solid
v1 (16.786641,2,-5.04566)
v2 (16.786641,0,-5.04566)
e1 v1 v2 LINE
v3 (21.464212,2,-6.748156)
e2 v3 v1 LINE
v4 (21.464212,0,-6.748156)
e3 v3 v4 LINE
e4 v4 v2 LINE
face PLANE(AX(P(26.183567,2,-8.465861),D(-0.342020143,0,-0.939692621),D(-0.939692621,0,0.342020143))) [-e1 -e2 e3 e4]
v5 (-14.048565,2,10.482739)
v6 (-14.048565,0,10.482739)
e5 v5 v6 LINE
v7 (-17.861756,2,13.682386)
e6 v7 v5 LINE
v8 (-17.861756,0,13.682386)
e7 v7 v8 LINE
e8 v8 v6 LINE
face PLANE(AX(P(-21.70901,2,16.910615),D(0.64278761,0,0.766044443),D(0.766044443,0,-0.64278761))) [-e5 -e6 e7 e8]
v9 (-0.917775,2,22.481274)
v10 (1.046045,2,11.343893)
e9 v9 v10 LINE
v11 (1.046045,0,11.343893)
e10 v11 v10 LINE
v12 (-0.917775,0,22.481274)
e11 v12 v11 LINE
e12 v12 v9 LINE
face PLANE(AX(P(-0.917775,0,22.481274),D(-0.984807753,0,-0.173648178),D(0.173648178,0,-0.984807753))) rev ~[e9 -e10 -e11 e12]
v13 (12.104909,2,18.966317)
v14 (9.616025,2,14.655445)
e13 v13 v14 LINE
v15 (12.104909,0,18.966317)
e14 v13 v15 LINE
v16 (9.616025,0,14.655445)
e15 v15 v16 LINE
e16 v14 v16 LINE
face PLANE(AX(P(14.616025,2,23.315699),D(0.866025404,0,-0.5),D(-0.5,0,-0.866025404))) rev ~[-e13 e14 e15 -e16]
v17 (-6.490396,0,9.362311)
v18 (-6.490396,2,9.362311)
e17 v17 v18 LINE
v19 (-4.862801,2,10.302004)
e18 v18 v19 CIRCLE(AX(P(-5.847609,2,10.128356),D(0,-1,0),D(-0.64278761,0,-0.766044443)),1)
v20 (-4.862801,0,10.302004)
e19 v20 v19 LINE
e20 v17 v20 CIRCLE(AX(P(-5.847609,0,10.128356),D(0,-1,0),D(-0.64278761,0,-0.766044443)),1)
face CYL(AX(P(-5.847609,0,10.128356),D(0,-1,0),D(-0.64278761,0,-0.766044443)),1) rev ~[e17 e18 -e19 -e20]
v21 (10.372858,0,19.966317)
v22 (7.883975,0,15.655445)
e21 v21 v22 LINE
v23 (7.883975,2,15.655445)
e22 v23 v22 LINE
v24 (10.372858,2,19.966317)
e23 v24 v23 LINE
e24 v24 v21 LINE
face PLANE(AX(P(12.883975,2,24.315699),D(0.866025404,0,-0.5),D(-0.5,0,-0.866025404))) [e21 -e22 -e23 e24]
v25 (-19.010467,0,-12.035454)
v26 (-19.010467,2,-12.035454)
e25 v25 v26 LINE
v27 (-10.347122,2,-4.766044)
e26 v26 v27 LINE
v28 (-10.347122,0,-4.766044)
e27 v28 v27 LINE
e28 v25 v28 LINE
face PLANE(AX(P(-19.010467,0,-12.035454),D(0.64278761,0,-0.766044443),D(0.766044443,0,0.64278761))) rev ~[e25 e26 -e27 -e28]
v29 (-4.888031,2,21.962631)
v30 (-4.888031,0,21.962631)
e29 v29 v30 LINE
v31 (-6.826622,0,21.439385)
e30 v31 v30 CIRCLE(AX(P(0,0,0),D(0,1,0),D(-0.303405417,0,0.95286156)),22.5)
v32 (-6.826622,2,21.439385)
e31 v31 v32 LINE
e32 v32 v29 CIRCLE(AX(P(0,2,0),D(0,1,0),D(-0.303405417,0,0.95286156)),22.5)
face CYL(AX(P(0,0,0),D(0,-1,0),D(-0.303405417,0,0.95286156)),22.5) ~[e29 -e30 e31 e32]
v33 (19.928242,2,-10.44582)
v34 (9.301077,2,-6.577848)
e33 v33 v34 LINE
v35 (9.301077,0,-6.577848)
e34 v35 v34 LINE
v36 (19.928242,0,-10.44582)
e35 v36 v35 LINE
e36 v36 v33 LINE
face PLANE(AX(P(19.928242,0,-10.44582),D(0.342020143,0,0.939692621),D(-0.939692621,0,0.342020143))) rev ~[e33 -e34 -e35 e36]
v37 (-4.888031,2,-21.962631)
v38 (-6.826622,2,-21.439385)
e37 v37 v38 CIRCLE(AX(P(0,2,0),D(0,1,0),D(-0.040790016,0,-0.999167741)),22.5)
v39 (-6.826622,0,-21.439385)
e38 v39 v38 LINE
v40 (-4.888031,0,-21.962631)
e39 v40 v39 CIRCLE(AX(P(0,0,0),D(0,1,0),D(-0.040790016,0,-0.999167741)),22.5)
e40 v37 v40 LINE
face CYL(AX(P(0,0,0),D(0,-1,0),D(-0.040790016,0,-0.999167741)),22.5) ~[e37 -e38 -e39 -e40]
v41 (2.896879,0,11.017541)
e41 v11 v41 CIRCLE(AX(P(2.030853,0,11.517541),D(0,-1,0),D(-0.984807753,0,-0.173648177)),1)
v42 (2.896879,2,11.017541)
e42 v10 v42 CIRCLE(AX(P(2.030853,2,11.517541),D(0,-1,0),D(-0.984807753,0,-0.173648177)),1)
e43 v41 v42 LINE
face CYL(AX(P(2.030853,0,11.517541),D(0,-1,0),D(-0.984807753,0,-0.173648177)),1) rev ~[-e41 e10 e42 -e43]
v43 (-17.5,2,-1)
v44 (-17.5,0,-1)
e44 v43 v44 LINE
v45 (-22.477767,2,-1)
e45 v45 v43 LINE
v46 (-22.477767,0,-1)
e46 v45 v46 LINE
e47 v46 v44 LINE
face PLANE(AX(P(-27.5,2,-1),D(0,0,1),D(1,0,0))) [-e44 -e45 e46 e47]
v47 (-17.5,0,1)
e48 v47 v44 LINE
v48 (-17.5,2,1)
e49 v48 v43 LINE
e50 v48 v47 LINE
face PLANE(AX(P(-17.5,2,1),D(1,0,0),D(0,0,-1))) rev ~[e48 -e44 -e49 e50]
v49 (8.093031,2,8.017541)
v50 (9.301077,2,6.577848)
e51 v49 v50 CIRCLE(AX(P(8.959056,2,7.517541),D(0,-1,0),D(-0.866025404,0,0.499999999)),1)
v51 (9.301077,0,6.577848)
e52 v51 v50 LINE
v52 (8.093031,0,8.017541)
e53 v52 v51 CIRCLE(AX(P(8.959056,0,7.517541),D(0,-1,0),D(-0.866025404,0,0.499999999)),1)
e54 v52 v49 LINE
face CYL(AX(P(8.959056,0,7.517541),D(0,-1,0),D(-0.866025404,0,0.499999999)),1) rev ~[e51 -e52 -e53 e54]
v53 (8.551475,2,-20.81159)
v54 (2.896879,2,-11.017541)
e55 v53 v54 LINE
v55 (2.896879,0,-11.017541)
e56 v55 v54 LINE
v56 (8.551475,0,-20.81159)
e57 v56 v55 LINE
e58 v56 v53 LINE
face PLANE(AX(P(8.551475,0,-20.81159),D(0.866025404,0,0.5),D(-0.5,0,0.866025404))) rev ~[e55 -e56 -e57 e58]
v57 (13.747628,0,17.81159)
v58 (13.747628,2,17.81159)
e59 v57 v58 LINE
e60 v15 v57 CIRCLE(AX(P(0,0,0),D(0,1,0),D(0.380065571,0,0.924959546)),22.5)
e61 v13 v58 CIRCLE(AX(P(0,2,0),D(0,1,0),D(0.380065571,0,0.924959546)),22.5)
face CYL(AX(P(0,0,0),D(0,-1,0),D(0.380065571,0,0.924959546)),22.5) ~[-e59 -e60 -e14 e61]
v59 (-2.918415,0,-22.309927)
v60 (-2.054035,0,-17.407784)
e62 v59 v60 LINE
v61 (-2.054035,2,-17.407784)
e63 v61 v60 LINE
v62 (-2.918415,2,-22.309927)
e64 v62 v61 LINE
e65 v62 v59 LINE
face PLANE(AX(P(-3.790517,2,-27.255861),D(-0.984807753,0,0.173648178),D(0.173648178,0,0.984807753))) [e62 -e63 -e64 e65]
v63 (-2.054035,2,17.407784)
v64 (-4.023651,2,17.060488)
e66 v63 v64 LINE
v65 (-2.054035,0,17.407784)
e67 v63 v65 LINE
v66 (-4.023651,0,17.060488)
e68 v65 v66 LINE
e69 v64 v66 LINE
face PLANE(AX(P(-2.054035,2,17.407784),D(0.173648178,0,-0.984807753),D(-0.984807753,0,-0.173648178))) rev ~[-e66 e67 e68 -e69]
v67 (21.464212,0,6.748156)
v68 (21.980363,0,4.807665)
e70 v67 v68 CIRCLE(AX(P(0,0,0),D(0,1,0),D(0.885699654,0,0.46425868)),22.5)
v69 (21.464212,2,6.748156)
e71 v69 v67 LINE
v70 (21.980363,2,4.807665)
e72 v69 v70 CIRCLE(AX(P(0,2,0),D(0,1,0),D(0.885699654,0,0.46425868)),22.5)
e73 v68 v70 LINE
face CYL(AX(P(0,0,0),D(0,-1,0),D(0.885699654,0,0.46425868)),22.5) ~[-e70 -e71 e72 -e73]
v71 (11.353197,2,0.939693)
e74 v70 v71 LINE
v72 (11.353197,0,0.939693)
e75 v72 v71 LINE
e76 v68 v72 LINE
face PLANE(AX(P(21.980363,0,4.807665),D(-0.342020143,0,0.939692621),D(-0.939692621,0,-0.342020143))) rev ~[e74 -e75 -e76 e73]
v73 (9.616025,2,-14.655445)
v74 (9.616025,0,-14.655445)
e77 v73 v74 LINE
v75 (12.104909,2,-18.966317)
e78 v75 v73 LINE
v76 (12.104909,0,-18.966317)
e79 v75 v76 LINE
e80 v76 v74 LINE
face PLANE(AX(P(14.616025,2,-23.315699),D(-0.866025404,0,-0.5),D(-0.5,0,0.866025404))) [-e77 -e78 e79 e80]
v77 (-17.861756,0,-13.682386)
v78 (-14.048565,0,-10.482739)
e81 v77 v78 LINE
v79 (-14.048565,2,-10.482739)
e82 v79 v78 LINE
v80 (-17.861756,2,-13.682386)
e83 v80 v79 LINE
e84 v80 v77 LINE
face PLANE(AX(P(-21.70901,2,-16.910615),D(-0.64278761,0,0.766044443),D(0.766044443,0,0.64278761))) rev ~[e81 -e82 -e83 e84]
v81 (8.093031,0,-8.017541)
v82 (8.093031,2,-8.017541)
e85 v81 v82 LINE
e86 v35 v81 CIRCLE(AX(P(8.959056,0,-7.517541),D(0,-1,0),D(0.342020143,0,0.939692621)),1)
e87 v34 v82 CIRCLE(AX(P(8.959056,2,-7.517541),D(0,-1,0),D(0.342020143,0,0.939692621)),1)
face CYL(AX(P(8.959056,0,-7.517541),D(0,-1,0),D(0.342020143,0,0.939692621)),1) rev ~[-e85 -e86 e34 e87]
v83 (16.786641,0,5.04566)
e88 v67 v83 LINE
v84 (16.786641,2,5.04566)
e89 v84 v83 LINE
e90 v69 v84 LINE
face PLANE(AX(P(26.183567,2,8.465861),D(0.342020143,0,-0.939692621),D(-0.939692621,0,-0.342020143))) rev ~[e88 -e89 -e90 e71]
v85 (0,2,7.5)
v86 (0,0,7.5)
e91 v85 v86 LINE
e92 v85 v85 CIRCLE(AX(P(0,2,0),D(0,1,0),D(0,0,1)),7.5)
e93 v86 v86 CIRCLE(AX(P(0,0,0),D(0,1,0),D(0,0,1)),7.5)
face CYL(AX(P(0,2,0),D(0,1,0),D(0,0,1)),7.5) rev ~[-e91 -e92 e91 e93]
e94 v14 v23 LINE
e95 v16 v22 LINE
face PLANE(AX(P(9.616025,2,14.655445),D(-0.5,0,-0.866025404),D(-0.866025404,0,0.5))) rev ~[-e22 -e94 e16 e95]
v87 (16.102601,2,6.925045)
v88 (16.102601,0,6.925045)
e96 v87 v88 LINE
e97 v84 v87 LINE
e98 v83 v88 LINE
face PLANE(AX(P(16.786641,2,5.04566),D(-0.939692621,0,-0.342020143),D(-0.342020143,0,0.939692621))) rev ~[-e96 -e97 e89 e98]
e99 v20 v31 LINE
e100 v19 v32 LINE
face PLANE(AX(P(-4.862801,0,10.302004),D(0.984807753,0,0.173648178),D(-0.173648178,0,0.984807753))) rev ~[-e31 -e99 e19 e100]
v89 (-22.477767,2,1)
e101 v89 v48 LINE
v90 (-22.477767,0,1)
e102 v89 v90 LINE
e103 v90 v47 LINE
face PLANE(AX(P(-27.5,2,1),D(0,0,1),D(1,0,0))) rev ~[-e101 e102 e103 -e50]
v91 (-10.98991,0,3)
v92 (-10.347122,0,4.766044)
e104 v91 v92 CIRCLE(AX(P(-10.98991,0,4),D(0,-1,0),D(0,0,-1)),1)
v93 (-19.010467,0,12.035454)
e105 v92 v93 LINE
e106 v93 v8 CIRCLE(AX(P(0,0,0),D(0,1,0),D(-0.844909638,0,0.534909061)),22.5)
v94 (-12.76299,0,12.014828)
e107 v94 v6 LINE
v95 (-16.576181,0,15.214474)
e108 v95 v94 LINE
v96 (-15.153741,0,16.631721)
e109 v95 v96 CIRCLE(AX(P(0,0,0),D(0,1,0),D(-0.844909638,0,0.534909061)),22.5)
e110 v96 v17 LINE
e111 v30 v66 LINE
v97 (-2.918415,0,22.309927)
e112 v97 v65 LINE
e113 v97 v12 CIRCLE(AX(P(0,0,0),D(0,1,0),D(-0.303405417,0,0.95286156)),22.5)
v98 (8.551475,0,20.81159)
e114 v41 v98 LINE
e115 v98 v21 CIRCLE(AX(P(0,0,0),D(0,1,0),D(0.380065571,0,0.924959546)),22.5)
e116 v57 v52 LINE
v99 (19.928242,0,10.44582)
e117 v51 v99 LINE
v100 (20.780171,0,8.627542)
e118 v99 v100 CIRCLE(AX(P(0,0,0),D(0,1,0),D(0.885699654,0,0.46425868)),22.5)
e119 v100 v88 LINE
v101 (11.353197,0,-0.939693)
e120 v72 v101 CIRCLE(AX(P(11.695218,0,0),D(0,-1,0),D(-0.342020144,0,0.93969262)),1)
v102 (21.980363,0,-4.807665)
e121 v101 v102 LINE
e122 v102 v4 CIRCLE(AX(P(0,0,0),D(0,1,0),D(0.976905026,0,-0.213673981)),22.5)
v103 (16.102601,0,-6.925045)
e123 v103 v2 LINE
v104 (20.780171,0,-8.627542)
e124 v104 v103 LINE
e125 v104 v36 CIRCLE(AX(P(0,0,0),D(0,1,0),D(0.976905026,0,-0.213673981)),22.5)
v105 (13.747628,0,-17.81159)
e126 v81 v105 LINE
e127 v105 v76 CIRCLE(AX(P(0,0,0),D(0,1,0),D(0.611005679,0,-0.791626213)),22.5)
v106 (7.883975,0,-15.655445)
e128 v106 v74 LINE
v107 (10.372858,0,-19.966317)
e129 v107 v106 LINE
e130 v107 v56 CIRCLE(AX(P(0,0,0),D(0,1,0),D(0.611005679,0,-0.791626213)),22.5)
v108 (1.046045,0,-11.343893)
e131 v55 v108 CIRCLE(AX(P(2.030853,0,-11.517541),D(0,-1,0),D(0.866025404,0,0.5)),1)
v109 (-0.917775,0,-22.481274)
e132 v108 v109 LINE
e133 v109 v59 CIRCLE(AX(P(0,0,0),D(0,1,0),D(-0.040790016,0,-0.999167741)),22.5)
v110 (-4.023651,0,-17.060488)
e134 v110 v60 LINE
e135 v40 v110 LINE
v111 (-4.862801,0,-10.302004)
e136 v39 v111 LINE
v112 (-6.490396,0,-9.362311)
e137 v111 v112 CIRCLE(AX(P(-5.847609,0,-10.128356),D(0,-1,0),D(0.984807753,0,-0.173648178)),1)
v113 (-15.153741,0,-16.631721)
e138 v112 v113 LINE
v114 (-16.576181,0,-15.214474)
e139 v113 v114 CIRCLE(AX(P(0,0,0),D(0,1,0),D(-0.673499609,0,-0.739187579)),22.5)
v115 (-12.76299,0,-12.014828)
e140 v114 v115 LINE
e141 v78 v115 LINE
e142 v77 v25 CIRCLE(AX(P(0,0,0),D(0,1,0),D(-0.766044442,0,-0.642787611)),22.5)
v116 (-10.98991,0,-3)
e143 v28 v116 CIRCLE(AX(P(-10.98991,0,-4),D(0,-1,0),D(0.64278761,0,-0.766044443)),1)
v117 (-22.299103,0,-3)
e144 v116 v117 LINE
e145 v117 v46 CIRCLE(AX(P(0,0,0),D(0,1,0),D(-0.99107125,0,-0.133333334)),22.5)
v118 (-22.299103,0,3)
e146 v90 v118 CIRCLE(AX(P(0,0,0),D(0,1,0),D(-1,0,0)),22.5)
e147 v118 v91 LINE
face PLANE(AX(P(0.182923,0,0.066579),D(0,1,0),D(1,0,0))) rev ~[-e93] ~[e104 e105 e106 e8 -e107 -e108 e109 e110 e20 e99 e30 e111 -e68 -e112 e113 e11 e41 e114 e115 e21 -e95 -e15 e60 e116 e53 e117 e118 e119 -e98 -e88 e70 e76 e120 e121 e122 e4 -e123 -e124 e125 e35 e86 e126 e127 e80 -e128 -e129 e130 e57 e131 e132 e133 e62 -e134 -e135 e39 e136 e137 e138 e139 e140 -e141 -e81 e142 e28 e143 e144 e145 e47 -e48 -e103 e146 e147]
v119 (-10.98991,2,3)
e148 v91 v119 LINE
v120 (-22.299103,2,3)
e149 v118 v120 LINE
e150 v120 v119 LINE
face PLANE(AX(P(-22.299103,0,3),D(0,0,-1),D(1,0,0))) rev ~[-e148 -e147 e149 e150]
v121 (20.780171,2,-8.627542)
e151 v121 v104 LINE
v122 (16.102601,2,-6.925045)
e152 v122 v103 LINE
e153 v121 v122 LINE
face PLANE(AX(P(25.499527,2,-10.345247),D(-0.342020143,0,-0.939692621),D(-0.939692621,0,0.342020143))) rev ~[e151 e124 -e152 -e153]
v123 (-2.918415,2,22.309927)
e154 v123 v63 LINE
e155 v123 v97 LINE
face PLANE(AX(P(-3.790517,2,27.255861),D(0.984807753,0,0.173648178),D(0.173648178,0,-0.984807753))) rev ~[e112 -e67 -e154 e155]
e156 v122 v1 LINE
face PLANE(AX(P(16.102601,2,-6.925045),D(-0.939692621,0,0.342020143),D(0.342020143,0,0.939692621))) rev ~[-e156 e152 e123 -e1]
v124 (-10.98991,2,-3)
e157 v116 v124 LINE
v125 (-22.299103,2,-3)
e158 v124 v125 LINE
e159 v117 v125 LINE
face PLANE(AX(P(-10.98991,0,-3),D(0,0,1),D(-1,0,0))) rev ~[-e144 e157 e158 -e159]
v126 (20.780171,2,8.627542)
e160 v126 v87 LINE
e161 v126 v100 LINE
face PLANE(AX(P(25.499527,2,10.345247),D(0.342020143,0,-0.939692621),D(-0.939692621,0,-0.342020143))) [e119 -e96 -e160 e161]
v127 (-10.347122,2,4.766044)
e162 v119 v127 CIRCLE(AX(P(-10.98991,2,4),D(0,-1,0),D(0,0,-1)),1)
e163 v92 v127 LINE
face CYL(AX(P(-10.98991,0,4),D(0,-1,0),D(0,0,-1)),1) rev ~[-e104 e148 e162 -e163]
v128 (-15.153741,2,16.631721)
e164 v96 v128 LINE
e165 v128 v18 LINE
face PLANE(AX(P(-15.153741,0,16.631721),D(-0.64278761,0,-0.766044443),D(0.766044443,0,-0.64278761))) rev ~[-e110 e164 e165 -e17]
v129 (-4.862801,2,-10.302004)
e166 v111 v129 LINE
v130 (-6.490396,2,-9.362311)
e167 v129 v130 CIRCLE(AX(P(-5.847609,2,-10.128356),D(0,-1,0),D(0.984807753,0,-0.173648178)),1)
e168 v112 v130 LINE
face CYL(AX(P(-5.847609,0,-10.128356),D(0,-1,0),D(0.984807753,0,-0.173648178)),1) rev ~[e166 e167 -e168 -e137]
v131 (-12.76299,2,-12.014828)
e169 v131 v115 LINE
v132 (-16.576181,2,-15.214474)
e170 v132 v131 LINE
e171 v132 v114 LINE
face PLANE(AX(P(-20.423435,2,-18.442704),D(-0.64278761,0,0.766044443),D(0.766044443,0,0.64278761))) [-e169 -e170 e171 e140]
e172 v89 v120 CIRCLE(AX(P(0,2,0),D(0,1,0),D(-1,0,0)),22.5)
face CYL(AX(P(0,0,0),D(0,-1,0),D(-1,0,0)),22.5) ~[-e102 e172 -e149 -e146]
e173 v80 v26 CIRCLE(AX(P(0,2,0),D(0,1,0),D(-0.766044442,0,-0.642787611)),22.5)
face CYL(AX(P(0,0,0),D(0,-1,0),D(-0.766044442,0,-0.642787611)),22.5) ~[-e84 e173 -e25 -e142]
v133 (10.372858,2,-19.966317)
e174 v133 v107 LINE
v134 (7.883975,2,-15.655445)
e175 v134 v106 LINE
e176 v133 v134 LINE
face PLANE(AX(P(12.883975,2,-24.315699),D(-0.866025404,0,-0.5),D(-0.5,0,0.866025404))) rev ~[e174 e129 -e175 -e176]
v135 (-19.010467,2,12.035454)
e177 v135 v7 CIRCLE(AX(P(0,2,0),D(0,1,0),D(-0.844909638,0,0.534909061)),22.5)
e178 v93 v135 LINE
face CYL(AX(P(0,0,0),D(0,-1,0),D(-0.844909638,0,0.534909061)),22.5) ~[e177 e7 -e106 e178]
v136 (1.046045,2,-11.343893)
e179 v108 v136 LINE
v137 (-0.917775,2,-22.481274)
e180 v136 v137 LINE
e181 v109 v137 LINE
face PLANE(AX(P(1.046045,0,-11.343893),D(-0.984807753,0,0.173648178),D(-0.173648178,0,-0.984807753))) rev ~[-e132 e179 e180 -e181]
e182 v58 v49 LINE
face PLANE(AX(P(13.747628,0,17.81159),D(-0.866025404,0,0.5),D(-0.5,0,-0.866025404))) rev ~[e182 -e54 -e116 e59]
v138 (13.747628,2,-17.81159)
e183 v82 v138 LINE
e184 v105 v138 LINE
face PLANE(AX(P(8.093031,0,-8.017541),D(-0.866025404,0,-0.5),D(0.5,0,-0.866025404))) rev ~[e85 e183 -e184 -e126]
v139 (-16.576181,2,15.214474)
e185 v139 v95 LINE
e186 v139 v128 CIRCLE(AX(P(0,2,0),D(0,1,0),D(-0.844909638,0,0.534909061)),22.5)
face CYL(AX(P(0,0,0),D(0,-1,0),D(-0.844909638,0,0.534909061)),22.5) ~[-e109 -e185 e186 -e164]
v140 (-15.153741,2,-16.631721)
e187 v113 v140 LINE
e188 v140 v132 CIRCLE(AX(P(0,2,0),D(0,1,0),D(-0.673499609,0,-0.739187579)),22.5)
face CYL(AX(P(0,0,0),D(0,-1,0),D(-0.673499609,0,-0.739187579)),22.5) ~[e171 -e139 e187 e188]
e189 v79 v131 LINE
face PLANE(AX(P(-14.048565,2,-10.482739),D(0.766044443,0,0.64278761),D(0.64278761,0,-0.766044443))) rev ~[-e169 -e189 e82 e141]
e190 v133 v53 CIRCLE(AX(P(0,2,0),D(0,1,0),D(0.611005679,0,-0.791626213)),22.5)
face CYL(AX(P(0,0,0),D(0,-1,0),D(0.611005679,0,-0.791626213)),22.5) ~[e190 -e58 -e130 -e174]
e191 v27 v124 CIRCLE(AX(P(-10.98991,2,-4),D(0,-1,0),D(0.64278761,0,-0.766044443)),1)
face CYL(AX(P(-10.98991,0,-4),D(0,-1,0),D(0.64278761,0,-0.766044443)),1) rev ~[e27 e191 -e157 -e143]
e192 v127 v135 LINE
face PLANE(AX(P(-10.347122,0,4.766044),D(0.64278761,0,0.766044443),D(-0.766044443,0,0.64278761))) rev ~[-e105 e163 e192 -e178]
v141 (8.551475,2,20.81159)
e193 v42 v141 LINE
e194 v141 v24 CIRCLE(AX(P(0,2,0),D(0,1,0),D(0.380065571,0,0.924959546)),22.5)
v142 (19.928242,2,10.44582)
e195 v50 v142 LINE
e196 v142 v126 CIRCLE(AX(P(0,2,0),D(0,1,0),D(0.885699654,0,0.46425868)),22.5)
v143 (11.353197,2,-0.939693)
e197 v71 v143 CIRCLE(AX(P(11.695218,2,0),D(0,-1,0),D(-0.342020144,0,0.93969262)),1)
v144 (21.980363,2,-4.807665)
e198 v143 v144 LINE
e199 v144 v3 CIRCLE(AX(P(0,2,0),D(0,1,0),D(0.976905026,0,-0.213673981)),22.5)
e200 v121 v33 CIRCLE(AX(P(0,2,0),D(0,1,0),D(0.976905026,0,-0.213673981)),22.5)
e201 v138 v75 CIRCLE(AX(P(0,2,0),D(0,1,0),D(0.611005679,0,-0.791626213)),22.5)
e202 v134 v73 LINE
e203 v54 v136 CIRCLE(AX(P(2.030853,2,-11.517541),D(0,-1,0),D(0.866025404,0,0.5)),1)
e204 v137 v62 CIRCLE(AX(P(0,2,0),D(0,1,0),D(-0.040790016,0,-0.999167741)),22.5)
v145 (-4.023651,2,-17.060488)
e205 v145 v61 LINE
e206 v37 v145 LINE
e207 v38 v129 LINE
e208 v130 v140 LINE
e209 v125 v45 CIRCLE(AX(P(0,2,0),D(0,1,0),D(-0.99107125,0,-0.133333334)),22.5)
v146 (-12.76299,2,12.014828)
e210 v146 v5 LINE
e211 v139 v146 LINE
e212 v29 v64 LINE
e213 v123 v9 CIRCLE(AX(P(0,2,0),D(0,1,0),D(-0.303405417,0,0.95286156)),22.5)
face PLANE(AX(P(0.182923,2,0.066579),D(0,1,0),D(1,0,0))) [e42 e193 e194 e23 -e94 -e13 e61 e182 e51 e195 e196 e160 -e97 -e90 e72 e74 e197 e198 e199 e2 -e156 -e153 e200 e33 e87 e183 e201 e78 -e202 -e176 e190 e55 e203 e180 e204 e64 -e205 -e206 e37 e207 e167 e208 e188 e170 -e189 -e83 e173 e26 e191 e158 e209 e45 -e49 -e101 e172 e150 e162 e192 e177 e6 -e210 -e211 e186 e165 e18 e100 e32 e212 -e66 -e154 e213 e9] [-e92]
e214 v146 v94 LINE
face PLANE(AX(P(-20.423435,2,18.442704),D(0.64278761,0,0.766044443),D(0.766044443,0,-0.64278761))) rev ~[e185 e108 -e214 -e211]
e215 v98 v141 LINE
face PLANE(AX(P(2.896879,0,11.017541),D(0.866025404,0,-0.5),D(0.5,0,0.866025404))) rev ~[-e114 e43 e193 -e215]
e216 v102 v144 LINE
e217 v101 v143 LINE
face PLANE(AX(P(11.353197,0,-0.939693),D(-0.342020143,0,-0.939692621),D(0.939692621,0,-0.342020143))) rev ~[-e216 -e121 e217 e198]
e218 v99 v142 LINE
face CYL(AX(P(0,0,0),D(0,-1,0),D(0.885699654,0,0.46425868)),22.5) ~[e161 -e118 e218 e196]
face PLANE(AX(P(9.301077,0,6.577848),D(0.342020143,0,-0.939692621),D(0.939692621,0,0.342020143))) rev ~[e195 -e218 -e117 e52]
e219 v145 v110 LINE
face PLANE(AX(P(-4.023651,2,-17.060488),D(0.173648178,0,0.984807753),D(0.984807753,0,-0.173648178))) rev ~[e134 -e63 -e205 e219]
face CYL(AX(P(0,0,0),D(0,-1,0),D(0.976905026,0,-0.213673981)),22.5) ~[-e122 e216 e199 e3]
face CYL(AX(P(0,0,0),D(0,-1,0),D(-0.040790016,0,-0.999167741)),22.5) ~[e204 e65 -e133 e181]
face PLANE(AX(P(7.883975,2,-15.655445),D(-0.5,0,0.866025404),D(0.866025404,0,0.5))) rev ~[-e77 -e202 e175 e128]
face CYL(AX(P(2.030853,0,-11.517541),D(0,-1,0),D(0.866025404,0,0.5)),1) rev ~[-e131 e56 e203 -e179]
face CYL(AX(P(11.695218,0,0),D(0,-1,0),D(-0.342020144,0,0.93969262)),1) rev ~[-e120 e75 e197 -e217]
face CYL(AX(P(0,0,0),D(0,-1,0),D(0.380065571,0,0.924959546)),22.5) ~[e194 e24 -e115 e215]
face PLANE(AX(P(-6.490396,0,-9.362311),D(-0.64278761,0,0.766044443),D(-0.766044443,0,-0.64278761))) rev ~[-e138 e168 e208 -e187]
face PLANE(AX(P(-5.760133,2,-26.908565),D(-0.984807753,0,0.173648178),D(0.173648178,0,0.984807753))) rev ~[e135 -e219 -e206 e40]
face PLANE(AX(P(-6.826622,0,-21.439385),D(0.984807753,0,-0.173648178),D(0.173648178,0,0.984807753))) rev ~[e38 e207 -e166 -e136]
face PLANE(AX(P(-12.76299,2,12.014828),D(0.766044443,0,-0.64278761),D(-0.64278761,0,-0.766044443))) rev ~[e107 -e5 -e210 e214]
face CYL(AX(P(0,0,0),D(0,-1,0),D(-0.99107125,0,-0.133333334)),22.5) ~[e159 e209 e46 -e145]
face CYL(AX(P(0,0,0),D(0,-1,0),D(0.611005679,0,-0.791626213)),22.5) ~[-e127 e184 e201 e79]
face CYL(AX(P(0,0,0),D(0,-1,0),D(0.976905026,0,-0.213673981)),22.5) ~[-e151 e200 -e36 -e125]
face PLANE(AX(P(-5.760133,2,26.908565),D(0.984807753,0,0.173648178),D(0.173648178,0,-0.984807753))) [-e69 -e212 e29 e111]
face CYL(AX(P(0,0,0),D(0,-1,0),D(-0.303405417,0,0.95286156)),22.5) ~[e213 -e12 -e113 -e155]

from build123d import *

# Parameters (mm, degrees)
BOSS_EXTRUDE3_DEPTH = 2
SKETCH6_W           = 10
SKETCH6_H           = 2
CUT_EXTRUDE4_DEPTH  = 2
CIRPATTERN3_COUNT   = 9
SKETCH7_R           = 7.5
CUT_EXTRUDE5_DEPTH  = 2


with BuildPart() as part:
    # Sketch1 → Boss-Extrude3 (new body)
    with BuildSketch(Plane(origin=(0, 0, 0), x_dir=(1, 0, 0), z_dir=(0, 1, 0))):
        with BuildLine():
            Line((-6.82662188, 21.439385106), (-4.862801047, 10.302003723))
            ThreePointArc((-4.862801047, 10.302003723), (-5.3476088, 9.262330141), (-6.49039641, 9.362311102))
            Line((-6.49039641, 9.362311102), (-15.153741203, 16.631720523))
            ThreePointArc((-15.153741203, 16.631720523), (-16.231142068, 15.582041817), (-17.23599997, 14.462721218))
            Line((-17.23599997, 14.462721218), (0, 0))
            Line((0, 0), (-22.5, 0))
            ThreePointArc((-22.5, 0), (-22.4497196, -1.503359534), (-22.299103121, -3))
            Line((-22.299103121, -3), (-10.989909678, -3))
            ThreePointArc((-10.989909678, -3), (-10.050217057, -3.657979857), (-10.347122068, -4.766044443))
            Line((-10.347122068, -4.766044443), (-19.010466861, -12.035453864))
            ThreePointArc((-19.010466861, -12.035453864), (-17.23599997, -14.462721218), (-15.153741203, -16.631720523))
            Line((-15.153741203, -16.631720523), (-6.49039641, -9.362311102))
            ThreePointArc((-6.49039641, -9.362311102), (-5.3476088, -9.262330141), (-4.862801047, -10.302003723))
            Line((-4.862801047, -10.302003723), (-6.82662188, -21.439385106))
            ThreePointArc((-6.82662188, -21.439385106), (-3.907083998, -22.158174443), (-0.917775362, -22.481274172))
            Line((-0.917775362, -22.481274172), (1.046045471, -11.343892789))
            ThreePointArc((1.046045471, -11.343892789), (1.857205046, -10.532733213), (2.896878628, -11.017540966))
            Line((2.896878628, -11.017540966), (8.551475349, -20.811589784))
            ThreePointArc((8.551475349, -20.811589784), (11.25, -19.485571585), (13.747627772, -17.811589784))
            Line((13.747627772, -17.811589784), (8.09303105, -8.017540966))
            ThreePointArc((8.09303105, -8.017540966), (8.193012011, -6.874753357), (9.301076597, -6.577848346))
            Line((9.301076597, -6.577848346), (19.928242223, -10.445820308))
            ThreePointArc((19.928242223, -10.445820308), (21.143083968, -7.695453225), (21.980363083, -4.807664583))
            Line((21.980363083, -4.807664583), (11.353197457, -0.939692621))
            ThreePointArc((11.353197457, -0.939692621), (10.695217601, 0), (11.353197457, 0.939692621))
            Line((11.353197457, 0.939692621), (21.980363083, 4.807664583))
            ThreePointArc((21.980363083, 4.807664583), (21.143083968, 7.695453225), (19.928242223, 10.445820308))
            Line((19.928242223, 10.445820308), (9.301076597, 6.577848346))
            ThreePointArc((9.301076597, 6.577848346), (8.193012011, 6.874753357), (8.09303105, 8.017540966))
            Line((8.09303105, 8.017540966), (13.747627772, 17.811589784))
            ThreePointArc((13.747627772, 17.811589784), (11.25, 19.485571585), (8.551475349, 20.811589784))
            Line((8.551475349, 20.811589784), (2.896878628, 11.017540966))
            ThreePointArc((2.896878628, 11.017540966), (1.857205046, 10.532733213), (1.046045471, 11.343892789))
            Line((1.046045471, 11.343892789), (-0.917775362, 22.481274172))
            ThreePointArc((-0.917775362, 22.481274172), (-3.907083998, 22.158174443), (-6.82662188, 21.439385106))
        make_face()
        with BuildLine():
            Line((0, 0), (-17.23599997, 14.462721218))
            ThreePointArc((-17.23599997, 14.462721218), (-18.163823831, 13.278761383), (-19.010466861, 12.035453864))
            Line((-19.010466861, 12.035453864), (-10.347122068, 4.766044443))
            ThreePointArc((-10.347122068, 4.766044443), (-10.050217057, 3.657979857), (-10.989909678, 3))
            Line((-10.989909678, 3), (-22.299103121, 3))
            ThreePointArc((-22.299103121, 3), (-22.4497196, 1.503359534), (-22.5, 0))
            Line((-22.5, 0), (0, 0))
        make_face()
    extrude(amount=BOSS_EXTRUDE3_DEPTH)

    # Sketch6 → Cut-Extrude4 (cut)
    with BuildSketch(Plane(origin=(0, 2, 0), x_dir=(1, 0, 0), z_dir=(0, 1, 0))):
        with Locations((-22.5, 0)):
            Rectangle(SKETCH6_W, SKETCH6_H)
    cut_extrude4 = extrude(amount=-CUT_EXTRUDE4_DEPTH, mode=Mode.SUBTRACT)

    # CirPattern3: Cut-Extrude4 ×9 about axis
    cirpattern3_axis = Axis((0, 0, 0), (0, 1, 0))
    for i in range(1, CIRPATTERN3_COUNT):
        add(cut_extrude4.rotate(cirpattern3_axis, i * 360 / CIRPATTERN3_COUNT), mode=Mode.SUBTRACT)

    # Sketch7 → Cut-Extrude5 (cut)
    with BuildSketch(Plane(origin=(0, 2, 0), x_dir=(1, 0, 0), z_dir=(0, 1, 0))):
        with Locations(Location((0, 0, 0), (0, 0, 270))):
            Circle(SKETCH7_R)
    extrude(amount=-CUT_EXTRUDE5_DEPTH, mode=Mode.SUBTRACT)


solid = part.part
